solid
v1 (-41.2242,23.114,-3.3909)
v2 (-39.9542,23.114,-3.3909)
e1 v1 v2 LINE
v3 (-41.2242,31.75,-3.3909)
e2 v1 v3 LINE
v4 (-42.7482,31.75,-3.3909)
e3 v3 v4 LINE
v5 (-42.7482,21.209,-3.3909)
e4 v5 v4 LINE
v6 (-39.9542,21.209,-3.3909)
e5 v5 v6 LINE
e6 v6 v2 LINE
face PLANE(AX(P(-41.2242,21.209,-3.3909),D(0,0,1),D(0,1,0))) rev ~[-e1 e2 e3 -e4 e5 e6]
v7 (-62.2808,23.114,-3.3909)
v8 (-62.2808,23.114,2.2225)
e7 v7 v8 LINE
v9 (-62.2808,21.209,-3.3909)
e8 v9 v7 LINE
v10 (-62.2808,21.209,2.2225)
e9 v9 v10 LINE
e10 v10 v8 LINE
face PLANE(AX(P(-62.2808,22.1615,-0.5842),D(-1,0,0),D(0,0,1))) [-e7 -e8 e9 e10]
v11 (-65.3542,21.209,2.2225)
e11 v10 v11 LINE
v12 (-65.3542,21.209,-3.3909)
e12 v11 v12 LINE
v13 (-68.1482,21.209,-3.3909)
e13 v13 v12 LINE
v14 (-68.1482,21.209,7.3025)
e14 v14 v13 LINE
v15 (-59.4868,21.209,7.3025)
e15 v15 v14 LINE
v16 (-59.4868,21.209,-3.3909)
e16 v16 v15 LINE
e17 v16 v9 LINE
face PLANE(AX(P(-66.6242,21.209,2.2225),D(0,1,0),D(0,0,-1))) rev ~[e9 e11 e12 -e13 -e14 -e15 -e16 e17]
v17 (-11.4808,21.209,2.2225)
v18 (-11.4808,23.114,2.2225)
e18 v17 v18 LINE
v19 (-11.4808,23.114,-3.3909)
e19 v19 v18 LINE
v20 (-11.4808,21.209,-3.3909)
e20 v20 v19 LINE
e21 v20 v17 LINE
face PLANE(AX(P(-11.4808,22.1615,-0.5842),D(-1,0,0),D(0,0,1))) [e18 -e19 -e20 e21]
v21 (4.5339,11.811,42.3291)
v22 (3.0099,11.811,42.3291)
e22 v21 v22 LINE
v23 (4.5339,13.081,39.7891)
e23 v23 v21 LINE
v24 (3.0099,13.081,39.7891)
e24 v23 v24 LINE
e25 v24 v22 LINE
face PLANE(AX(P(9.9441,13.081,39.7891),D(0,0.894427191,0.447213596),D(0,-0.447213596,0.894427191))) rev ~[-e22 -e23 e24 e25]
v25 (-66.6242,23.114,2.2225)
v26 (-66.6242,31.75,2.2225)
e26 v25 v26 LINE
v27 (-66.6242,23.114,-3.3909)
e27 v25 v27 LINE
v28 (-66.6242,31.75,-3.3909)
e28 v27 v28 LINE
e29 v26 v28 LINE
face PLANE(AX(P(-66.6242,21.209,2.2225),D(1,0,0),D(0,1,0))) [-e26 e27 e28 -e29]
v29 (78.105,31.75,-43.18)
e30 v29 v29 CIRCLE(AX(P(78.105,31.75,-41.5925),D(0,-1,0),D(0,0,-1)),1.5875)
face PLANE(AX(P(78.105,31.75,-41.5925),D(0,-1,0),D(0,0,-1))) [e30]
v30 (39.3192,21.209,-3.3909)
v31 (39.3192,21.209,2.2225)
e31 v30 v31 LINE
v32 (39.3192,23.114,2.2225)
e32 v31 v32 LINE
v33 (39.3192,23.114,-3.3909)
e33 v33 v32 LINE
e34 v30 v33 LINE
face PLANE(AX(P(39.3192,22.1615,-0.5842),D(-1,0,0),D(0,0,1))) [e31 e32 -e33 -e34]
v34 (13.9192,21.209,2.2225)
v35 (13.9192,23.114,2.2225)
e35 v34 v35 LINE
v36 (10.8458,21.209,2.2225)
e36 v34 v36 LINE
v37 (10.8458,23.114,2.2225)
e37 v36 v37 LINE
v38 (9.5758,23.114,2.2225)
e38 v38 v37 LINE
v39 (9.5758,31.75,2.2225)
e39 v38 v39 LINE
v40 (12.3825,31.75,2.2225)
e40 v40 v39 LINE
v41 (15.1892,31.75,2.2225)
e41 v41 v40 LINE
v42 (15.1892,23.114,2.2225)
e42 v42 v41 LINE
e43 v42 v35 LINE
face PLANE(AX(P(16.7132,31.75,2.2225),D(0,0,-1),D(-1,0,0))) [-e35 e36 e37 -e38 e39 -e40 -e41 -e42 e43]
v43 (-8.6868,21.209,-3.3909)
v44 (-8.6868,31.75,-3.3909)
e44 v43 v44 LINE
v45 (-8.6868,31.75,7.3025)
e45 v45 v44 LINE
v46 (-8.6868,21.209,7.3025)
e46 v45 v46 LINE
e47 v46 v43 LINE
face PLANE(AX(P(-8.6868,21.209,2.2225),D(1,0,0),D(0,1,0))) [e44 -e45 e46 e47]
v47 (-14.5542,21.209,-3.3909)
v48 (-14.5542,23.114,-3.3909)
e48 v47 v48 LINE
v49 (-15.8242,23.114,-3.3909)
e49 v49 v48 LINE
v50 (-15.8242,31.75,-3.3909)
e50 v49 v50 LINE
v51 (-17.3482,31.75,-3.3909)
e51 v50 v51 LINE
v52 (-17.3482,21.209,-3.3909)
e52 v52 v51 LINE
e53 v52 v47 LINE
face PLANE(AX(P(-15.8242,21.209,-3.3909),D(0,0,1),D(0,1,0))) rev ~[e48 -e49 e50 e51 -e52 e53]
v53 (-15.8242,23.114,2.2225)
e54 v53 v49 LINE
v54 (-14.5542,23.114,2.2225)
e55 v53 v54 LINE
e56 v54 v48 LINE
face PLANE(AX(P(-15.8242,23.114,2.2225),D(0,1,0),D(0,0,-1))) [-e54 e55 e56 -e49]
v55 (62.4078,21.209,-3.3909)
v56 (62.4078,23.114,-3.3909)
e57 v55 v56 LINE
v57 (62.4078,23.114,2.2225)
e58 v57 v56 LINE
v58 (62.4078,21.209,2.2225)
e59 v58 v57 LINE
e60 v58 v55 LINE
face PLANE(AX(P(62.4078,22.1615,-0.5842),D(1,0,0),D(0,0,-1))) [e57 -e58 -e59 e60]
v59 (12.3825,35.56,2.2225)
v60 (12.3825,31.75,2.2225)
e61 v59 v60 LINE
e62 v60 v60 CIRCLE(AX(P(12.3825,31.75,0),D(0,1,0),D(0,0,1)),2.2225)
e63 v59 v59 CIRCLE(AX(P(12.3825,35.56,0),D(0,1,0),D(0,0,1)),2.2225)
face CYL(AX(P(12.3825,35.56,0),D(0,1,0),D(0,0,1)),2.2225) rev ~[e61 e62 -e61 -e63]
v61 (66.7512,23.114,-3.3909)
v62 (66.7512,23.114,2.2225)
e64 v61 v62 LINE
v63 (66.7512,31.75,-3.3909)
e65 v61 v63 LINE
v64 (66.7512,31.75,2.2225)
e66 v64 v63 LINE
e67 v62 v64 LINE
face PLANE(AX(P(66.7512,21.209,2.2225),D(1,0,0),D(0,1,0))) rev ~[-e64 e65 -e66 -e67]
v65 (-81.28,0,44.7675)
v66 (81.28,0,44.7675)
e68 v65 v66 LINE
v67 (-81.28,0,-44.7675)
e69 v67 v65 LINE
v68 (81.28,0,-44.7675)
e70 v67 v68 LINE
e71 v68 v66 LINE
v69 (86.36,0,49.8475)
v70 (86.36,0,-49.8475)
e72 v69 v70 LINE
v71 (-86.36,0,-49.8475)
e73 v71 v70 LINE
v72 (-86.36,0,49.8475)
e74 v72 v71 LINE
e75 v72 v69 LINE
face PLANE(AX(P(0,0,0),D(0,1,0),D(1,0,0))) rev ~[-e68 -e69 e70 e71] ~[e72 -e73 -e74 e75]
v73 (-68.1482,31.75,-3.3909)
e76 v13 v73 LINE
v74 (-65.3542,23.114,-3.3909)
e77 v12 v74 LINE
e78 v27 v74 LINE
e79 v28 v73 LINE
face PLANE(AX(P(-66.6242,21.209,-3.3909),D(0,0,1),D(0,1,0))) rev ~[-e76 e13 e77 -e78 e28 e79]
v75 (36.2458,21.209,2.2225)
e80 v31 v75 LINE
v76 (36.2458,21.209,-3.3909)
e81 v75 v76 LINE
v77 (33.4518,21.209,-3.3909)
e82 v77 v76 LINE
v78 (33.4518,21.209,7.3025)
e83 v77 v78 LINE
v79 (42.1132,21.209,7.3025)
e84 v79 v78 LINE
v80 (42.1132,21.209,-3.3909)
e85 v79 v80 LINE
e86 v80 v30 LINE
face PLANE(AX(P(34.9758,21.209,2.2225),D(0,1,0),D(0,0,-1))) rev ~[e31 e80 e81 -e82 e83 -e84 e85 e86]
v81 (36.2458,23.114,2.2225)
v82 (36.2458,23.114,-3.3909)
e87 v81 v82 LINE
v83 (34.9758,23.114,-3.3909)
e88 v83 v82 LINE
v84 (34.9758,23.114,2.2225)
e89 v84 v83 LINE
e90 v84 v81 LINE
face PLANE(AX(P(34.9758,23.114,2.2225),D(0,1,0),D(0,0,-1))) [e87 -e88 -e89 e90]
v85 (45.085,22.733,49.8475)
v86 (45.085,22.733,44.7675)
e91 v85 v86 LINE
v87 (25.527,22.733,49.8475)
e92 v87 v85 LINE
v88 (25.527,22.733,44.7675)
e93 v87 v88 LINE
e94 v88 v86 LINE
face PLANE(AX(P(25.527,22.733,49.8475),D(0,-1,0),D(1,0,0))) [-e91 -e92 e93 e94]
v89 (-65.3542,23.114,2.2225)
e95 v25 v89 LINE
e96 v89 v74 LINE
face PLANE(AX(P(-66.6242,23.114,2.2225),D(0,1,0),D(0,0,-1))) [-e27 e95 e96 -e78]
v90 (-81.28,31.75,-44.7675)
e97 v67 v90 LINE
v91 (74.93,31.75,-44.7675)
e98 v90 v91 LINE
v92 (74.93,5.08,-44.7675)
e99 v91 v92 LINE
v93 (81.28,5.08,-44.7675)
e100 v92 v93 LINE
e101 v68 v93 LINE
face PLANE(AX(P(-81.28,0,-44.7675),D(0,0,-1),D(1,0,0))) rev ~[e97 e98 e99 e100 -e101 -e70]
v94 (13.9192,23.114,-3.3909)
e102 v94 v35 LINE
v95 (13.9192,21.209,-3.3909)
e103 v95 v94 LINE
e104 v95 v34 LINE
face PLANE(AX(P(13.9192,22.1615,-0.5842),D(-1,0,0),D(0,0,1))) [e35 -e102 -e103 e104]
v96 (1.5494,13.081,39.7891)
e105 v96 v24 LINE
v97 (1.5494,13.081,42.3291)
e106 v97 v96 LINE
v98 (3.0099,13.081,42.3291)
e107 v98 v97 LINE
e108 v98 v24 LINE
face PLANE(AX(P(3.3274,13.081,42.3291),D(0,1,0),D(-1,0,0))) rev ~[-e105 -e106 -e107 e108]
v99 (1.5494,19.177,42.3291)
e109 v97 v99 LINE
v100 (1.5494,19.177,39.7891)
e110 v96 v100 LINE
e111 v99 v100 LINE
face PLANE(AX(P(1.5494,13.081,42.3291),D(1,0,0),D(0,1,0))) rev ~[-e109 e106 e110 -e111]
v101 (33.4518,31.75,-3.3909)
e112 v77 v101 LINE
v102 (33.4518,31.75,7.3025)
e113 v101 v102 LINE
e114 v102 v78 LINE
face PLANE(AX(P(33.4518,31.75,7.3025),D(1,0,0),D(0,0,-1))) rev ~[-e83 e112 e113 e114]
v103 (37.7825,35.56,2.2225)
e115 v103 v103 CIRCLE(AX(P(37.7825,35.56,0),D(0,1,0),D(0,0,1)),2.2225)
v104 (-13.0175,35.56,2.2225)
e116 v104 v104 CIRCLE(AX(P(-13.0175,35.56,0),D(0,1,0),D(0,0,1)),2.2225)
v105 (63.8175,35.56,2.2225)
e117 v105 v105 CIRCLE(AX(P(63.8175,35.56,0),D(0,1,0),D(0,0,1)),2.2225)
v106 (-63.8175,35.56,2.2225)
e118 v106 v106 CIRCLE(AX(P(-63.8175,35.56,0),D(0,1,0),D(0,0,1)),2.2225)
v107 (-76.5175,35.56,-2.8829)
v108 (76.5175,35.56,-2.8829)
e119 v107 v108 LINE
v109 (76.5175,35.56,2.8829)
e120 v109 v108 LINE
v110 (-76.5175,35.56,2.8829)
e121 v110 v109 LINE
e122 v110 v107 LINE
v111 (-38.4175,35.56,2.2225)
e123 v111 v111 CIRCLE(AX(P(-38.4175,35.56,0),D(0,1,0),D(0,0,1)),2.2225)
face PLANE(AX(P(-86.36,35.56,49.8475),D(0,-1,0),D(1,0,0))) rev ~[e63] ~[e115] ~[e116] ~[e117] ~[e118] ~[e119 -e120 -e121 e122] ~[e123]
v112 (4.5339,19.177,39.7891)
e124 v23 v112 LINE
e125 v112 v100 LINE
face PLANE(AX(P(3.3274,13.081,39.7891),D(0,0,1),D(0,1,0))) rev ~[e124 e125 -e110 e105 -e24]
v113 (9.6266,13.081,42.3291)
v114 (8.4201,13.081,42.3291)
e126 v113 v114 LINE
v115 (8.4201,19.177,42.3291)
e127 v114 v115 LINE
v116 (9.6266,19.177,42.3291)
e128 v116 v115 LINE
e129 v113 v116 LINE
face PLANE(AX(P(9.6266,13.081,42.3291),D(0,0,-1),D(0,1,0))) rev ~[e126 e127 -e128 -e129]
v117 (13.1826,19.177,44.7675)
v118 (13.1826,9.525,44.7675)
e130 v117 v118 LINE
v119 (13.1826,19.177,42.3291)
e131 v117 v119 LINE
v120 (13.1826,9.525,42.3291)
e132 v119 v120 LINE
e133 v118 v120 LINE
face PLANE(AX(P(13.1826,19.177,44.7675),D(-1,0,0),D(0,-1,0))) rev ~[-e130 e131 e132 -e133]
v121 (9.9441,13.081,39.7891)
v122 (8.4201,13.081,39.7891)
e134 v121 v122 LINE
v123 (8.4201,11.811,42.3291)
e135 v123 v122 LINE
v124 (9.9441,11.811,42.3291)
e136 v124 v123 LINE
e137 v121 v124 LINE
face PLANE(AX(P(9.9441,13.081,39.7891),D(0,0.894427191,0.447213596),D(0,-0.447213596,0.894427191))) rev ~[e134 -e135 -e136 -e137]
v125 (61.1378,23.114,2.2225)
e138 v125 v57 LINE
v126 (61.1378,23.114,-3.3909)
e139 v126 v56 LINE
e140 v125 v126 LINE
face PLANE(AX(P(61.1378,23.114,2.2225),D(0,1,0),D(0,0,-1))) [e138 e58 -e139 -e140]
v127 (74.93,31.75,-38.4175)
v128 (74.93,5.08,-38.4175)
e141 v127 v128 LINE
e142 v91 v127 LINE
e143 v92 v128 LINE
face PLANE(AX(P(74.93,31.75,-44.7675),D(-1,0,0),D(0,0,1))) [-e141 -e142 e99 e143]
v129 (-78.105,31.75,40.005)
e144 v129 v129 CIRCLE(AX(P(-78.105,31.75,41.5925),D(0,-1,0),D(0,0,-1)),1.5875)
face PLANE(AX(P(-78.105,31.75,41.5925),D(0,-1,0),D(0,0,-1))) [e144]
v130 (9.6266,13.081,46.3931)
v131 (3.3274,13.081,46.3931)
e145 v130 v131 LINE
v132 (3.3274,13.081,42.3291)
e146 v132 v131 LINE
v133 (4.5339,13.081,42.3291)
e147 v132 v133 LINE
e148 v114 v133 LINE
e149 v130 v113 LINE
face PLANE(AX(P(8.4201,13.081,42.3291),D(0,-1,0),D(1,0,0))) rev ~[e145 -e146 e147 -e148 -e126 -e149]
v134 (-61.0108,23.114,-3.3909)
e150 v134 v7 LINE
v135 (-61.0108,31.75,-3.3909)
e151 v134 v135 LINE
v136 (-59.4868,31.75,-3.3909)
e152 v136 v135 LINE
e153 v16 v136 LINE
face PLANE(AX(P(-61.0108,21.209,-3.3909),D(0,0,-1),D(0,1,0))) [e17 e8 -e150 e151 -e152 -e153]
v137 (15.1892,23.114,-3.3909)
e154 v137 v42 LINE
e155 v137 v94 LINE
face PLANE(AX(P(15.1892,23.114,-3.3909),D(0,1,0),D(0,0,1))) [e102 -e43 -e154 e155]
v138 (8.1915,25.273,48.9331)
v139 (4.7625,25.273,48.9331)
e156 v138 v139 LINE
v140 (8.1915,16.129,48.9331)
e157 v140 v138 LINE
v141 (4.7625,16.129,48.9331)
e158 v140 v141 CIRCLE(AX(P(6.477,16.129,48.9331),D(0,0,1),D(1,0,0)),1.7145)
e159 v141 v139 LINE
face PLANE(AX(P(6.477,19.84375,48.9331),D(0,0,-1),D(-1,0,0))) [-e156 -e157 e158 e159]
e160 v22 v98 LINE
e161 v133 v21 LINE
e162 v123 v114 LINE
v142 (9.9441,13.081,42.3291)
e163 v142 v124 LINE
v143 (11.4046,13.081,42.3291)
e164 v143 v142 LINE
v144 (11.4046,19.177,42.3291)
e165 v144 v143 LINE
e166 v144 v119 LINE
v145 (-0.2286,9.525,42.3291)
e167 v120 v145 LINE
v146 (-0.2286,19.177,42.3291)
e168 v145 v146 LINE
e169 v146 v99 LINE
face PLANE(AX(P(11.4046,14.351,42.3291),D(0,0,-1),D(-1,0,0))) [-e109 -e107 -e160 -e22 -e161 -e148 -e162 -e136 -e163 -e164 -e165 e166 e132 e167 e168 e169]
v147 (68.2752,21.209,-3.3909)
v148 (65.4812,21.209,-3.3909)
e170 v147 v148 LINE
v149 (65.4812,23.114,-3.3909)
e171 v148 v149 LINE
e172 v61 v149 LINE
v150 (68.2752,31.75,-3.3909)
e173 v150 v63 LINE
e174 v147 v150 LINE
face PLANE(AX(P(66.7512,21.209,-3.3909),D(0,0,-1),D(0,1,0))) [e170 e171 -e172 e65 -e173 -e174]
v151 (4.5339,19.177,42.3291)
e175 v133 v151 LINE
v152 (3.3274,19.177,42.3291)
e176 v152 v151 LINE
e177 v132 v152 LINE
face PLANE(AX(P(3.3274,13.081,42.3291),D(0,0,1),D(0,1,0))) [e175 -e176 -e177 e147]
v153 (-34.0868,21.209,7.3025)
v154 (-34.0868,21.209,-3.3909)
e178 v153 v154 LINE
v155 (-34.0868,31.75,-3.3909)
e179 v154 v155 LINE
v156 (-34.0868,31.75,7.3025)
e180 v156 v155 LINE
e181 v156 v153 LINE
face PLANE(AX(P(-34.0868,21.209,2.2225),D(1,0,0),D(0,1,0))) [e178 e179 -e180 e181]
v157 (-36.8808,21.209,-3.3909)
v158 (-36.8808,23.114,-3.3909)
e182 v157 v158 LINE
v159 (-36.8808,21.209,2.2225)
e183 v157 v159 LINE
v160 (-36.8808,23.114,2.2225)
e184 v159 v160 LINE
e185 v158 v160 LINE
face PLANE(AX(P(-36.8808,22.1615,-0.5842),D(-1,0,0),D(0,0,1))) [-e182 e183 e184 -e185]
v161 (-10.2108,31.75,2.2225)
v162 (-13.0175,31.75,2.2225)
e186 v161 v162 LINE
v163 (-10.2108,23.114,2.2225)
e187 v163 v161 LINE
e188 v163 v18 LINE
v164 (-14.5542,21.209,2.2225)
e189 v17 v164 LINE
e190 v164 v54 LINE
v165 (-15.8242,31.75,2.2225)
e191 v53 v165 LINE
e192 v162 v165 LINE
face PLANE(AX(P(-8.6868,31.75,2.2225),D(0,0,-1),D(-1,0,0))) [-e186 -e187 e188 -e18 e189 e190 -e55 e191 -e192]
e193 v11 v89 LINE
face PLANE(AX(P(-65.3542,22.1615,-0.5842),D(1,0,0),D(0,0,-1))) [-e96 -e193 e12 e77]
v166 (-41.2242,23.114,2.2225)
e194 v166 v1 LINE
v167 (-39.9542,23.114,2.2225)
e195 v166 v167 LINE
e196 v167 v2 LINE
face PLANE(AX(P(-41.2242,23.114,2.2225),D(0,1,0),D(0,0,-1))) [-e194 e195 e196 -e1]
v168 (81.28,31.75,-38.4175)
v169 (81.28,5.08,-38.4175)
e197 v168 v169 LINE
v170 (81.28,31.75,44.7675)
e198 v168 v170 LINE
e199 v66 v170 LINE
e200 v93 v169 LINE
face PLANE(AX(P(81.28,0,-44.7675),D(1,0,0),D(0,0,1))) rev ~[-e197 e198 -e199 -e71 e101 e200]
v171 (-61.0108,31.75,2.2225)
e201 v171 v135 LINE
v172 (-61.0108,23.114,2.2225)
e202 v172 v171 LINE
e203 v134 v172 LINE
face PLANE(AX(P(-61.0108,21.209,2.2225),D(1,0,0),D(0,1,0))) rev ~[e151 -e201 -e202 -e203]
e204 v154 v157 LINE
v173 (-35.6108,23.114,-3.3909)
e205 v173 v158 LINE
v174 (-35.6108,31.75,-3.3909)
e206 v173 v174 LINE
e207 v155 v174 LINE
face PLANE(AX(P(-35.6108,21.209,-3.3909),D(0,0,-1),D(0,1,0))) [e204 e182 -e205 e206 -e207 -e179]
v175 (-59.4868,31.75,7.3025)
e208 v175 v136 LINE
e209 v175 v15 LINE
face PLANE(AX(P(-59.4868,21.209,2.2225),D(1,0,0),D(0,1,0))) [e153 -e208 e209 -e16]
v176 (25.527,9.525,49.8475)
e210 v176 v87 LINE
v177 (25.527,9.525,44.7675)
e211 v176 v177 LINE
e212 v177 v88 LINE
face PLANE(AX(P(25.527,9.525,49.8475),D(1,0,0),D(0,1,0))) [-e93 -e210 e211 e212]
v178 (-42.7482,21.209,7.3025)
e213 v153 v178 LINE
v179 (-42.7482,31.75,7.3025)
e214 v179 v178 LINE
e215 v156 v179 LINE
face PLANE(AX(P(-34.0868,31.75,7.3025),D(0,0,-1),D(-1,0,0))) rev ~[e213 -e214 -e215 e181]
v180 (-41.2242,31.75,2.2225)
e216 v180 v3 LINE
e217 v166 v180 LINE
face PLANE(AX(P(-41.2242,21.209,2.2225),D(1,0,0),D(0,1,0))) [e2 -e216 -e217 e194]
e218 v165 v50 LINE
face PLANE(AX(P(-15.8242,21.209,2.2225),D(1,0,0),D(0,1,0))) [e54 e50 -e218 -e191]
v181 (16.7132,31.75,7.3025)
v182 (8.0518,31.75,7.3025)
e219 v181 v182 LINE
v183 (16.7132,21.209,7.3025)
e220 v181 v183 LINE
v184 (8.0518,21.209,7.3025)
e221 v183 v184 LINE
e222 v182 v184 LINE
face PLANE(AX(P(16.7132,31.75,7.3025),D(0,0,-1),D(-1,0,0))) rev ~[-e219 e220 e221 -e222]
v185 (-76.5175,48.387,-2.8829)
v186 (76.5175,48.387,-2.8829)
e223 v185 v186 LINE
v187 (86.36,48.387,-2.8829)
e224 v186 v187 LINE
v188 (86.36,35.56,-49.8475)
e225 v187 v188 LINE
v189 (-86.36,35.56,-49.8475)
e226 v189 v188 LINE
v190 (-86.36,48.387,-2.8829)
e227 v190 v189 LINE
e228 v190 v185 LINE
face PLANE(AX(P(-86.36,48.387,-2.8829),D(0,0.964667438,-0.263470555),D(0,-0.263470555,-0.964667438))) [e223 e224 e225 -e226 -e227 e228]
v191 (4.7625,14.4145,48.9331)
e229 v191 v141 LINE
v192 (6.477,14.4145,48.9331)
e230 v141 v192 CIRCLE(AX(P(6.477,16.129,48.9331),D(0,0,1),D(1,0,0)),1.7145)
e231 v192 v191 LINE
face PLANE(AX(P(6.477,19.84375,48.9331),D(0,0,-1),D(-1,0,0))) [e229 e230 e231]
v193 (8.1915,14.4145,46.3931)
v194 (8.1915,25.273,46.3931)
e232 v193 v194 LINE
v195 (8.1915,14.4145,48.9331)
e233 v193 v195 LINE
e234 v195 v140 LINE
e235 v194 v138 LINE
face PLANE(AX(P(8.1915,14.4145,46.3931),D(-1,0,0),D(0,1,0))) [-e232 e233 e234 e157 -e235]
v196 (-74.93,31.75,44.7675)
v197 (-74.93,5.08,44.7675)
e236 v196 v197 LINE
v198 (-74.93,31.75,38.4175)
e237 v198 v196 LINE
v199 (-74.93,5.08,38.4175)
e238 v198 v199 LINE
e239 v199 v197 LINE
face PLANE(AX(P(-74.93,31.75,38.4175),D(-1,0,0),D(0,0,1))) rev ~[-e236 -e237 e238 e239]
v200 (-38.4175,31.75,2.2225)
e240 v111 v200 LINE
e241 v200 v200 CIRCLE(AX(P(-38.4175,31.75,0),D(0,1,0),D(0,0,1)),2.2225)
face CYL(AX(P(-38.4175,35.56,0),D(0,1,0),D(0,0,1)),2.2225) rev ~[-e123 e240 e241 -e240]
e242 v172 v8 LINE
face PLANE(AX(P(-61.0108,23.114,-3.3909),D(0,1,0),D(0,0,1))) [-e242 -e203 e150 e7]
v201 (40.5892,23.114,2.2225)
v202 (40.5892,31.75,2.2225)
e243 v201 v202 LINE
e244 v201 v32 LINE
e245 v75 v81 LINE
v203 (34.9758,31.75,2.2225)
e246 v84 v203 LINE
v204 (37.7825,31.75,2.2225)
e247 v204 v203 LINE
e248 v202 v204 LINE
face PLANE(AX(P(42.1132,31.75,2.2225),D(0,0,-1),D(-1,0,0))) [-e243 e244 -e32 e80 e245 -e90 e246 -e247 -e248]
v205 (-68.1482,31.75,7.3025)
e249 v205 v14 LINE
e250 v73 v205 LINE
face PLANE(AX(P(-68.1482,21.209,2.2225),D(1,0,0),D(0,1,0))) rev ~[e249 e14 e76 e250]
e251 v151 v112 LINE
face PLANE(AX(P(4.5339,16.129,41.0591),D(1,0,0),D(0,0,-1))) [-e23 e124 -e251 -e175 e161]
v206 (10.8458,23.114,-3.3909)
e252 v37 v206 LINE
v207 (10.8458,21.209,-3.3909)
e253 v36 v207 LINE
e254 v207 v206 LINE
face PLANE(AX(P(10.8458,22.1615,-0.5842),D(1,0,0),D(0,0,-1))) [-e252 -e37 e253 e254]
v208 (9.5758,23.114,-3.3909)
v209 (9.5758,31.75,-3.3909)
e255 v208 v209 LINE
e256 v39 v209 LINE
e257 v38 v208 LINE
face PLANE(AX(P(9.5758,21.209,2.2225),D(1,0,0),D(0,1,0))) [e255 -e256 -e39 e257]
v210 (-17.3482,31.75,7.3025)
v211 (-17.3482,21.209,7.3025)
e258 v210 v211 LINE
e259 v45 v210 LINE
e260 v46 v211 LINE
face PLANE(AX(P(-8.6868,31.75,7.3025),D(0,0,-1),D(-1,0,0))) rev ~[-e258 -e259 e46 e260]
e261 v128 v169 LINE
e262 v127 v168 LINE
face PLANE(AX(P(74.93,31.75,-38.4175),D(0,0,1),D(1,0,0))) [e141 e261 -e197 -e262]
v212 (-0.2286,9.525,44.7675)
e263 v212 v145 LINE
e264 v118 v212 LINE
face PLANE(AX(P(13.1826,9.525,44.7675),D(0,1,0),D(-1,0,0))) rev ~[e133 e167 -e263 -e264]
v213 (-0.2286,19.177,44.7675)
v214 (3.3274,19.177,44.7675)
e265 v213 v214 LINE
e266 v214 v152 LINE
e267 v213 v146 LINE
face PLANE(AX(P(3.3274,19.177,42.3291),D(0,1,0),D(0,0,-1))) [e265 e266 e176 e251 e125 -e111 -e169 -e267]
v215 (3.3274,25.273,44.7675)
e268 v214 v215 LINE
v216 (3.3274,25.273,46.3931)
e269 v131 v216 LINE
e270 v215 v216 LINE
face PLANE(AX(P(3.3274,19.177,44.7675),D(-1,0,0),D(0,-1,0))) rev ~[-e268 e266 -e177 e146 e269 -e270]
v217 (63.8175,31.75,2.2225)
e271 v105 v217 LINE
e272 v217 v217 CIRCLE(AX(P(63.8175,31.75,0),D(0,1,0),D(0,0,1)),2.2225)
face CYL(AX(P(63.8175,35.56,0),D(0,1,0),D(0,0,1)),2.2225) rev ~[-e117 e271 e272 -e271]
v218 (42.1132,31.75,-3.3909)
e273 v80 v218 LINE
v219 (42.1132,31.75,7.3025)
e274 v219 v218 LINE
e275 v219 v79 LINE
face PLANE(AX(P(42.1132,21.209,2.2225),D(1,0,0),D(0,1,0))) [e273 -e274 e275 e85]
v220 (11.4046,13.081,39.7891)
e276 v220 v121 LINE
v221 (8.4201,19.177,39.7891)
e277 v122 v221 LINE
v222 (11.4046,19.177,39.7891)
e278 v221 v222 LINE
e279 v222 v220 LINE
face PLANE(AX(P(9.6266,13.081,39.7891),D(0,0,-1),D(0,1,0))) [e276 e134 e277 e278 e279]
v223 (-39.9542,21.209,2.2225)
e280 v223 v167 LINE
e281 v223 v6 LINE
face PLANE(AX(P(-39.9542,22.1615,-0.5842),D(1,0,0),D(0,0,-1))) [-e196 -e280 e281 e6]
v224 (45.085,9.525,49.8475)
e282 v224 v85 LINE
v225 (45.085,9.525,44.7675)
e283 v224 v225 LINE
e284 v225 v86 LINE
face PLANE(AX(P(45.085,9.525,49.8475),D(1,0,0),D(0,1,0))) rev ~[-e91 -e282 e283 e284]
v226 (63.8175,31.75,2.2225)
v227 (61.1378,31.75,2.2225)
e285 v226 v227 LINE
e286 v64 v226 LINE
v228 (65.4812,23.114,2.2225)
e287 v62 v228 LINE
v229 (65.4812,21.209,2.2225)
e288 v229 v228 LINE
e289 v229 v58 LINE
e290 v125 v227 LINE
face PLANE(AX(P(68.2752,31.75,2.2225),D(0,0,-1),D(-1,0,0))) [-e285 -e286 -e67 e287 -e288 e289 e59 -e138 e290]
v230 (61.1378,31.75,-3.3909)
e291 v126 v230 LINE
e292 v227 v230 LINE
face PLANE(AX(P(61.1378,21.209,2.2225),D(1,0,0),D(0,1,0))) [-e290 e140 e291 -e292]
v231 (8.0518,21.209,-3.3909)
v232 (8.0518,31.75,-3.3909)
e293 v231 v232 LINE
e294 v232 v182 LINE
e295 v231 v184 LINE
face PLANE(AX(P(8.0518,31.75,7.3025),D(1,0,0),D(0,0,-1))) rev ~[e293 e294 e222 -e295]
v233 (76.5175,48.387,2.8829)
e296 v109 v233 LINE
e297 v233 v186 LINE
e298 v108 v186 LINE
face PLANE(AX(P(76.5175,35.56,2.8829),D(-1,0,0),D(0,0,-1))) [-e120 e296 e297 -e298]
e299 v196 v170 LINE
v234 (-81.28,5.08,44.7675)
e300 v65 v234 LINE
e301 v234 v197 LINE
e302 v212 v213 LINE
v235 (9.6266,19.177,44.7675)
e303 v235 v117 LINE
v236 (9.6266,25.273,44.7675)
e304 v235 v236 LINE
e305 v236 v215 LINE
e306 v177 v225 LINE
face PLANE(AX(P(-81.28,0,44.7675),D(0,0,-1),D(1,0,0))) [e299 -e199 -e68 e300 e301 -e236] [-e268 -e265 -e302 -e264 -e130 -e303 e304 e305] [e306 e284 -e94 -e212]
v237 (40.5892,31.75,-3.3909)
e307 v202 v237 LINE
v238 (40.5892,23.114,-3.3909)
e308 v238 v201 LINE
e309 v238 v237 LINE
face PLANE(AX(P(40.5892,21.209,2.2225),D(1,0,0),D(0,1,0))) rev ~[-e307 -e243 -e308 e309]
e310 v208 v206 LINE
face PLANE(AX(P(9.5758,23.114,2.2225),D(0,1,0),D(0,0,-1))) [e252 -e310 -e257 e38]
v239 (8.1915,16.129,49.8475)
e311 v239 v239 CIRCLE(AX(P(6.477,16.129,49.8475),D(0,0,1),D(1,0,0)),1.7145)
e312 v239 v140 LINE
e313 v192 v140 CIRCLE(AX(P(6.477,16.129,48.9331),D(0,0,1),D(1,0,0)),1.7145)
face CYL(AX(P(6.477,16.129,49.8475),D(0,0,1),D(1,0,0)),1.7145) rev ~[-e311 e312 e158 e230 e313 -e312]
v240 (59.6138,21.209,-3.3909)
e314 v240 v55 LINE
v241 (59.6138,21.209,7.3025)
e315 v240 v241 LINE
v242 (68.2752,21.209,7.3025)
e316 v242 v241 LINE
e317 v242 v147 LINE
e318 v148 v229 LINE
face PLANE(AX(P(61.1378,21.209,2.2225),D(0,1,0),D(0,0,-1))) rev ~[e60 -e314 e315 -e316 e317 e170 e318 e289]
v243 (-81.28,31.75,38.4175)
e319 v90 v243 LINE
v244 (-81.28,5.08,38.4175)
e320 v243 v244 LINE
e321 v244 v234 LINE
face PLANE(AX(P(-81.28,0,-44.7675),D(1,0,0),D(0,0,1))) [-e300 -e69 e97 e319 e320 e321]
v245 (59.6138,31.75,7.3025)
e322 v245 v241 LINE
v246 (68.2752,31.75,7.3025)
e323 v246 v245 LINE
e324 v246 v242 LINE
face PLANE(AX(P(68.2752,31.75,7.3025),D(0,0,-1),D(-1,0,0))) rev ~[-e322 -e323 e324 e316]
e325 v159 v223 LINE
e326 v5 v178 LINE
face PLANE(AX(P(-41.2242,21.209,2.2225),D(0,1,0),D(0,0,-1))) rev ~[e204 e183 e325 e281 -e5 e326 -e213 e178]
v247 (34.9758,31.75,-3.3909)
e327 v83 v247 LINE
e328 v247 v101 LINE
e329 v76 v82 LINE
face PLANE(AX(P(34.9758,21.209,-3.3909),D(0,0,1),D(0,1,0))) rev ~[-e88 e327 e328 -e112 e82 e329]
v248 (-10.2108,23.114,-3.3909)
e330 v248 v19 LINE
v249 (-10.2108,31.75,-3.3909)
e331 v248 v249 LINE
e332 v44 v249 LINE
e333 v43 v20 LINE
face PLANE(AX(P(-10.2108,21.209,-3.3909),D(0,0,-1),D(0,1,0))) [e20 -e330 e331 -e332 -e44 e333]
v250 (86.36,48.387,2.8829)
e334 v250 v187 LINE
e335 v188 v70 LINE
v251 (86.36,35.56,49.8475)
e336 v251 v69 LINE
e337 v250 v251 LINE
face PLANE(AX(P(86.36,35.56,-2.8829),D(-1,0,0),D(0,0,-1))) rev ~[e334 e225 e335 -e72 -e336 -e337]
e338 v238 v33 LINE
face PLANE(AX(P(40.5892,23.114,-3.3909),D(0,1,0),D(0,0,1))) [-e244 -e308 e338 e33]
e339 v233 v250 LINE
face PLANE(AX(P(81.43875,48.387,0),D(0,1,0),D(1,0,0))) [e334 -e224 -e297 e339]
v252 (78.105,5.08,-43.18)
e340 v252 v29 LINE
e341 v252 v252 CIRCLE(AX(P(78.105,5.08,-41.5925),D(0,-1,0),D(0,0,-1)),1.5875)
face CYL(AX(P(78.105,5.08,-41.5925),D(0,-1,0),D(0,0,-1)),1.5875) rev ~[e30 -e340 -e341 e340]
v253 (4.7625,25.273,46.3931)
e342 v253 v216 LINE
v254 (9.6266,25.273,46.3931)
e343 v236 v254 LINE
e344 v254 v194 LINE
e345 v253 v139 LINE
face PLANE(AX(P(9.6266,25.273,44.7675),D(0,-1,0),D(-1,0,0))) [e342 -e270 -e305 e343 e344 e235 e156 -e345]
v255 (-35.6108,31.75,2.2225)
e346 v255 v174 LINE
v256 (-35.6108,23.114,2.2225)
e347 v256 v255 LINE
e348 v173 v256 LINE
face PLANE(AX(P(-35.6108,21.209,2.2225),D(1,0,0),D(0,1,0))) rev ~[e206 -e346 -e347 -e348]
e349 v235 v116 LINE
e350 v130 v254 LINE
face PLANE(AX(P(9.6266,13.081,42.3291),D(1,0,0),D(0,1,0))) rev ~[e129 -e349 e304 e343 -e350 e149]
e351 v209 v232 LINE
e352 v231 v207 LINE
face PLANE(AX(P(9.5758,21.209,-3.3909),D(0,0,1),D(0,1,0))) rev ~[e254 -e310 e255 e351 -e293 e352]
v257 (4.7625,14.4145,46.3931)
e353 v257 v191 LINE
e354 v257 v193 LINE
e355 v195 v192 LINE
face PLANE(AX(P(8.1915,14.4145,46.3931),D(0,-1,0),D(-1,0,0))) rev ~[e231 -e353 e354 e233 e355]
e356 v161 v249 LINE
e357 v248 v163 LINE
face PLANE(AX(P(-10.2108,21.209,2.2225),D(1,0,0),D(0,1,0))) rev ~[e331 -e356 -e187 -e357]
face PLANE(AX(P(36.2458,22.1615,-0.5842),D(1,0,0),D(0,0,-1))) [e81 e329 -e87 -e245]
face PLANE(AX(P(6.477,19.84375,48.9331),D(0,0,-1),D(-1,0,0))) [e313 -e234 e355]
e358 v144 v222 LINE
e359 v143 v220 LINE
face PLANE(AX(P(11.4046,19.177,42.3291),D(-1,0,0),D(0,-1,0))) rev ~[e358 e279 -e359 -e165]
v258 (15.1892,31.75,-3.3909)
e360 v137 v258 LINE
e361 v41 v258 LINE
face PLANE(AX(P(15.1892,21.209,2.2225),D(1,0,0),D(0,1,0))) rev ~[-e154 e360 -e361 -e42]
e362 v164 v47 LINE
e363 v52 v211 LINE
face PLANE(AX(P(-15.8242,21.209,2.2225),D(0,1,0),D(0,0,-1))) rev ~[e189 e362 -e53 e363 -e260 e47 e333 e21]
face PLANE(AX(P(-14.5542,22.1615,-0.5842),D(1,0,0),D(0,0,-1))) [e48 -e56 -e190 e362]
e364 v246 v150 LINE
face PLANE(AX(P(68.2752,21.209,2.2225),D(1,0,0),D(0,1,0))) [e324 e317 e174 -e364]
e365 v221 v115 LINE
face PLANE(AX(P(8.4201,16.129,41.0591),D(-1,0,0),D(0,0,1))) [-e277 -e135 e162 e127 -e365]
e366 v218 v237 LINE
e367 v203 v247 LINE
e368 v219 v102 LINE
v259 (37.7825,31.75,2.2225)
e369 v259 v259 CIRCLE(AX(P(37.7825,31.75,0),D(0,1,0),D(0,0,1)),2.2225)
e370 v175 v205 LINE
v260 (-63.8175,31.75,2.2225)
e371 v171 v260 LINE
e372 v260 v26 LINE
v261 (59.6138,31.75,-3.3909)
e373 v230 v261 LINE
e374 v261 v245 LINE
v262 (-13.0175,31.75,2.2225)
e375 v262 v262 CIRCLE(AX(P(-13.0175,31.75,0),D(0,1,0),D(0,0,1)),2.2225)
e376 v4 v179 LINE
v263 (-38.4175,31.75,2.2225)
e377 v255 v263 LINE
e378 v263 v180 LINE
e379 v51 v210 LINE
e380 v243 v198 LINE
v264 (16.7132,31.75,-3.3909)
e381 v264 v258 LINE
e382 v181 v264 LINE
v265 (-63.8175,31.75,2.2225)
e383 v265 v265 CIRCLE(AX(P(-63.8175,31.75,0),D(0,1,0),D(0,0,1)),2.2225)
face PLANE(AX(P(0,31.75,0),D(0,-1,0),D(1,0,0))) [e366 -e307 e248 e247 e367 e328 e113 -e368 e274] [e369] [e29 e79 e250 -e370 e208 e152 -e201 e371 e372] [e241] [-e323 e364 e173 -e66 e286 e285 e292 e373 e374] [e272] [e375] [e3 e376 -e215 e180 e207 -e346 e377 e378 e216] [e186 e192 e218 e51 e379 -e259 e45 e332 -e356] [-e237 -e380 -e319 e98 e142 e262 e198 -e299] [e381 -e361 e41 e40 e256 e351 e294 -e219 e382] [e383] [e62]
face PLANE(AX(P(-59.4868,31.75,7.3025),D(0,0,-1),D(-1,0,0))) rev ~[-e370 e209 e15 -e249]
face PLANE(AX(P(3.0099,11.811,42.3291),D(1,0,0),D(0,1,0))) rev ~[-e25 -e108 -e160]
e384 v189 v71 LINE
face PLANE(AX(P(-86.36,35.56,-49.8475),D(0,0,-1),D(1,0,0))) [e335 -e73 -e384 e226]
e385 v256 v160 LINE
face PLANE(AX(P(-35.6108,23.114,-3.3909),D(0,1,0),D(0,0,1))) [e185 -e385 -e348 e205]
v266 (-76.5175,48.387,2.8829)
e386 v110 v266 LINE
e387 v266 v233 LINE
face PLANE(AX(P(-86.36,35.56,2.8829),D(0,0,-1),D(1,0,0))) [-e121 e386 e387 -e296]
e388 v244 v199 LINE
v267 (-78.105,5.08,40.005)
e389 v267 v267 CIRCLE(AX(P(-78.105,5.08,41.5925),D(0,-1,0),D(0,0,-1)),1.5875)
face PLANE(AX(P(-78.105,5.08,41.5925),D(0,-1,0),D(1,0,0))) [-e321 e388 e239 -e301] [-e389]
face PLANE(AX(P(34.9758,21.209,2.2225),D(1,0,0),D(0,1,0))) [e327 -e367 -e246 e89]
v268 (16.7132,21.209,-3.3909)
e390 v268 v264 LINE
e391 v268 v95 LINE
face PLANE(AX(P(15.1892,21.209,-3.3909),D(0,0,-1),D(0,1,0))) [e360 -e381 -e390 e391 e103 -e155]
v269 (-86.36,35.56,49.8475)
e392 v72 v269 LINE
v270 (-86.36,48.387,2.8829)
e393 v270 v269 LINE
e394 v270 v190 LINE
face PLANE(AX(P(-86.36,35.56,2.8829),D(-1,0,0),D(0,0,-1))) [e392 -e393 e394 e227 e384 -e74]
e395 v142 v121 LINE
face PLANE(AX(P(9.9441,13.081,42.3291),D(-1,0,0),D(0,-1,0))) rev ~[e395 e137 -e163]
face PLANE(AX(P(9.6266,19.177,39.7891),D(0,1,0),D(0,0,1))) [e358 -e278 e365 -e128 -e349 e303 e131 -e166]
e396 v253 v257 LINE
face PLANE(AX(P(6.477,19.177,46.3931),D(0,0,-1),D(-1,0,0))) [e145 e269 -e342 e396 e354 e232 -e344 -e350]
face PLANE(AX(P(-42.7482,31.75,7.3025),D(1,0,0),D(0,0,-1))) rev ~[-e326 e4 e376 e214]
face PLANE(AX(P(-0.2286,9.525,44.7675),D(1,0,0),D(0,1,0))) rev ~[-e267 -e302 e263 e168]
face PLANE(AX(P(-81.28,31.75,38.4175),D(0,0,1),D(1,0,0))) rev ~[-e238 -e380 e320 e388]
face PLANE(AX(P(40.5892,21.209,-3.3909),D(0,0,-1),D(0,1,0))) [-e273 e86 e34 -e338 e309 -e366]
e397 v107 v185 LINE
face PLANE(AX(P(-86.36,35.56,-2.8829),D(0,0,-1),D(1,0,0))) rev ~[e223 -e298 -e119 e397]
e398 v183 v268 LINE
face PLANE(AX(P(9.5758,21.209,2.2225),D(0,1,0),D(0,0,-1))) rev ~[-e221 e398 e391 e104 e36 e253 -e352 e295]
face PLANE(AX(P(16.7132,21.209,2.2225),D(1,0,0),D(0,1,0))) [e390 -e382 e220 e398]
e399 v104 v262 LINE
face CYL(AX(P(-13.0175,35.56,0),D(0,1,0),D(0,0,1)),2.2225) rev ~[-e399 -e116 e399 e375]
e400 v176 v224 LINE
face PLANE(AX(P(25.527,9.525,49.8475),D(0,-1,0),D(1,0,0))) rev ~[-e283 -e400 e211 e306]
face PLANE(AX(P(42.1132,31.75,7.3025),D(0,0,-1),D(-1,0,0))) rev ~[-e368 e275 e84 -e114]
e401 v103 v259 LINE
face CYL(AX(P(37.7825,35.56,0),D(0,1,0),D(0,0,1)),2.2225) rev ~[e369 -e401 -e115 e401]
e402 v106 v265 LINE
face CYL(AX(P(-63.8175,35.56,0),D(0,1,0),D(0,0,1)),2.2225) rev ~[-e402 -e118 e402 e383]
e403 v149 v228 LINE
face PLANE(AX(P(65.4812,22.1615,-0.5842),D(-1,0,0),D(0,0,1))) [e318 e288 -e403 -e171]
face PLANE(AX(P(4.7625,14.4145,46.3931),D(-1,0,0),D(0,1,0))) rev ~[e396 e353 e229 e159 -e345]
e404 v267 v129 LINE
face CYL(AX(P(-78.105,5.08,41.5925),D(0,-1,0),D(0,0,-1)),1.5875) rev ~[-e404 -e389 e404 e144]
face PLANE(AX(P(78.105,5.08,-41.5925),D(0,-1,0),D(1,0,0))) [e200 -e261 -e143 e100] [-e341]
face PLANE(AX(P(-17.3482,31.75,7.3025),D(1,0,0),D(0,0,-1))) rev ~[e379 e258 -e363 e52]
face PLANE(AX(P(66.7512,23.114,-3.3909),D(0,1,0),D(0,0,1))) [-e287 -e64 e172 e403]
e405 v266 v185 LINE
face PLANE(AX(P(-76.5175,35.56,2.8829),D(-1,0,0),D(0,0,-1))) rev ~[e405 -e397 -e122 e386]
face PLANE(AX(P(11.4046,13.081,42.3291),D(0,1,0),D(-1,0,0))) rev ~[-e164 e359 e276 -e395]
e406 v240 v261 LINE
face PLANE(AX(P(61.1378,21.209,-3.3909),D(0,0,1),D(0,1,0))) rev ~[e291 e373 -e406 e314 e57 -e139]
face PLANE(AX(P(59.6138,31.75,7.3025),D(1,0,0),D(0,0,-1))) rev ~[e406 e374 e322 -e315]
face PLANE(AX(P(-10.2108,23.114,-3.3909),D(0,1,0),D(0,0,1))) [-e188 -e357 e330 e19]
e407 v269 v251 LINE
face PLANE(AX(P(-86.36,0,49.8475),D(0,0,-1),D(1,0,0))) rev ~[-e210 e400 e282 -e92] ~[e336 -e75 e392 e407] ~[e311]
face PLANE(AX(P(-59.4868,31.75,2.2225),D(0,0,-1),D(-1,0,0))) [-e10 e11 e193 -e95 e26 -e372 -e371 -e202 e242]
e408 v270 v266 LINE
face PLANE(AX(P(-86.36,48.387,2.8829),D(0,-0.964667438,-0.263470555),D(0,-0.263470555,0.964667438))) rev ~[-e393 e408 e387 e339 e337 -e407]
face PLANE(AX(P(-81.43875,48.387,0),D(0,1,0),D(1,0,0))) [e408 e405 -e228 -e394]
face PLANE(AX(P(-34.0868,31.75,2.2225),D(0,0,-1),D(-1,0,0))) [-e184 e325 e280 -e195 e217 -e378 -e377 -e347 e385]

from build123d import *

# Parameters (mm, degrees)
SKETCH1_W            = 172.72
SKETCH1_H            = 99.695
BOSS_EXTRUDE1_DEPTH  = 38.1
SKETCH2_W            = 162.56
SKETCH2_H            = 89.535
CUT_EXTRUDE1_DEPTH   = 31.75
SKETCH3_W            = 6.35
SKETCH3_H            = 6.35
BOSS_EXTRUDE2_DEPTH  = 26.67
SKETCH7_R            = 1.5875
CUT_EXTRUDE3_DEPTH   = 26.67
SKETCH8_W            = 19.558
SKETCH8_H            = 13.208
CUT_EXTRUDE4_DEPTH   = 5.08
SKETCH9_R            = 1.7145
CUT_EXTRUDE6_DEPTH   = 3.4544
SKETCH11_W           = 6.2992
SKETCH11_H           = 12.192
CUT_EXTRUDE7_DEPTH   = 1.6256
SKETCH14_W           = 6.2992
SKETCH14_H           = 3.556
BOSS_EXTRUDE3_DEPTH  = 2.4384
SKETCH22_W           = 3.429
SKETCH22_H           = 10.8585
CUT_EXTRUDE8_DEPTH   = 2.54
BOSS_EXTRUDE16_DEPTH = 2.54
BOSS_EXTRUDE18_DEPTH = 2.54
SKETCH28_W           = 2.54
SKETCH28_H           = 6.096
BOSS_EXTRUDE19_DEPTH = 1.2065
SKETCH29_W           = 2.54
SKETCH29_H           = 6.096
BOSS_EXTRUDE20_DEPTH = 1.2065
CUT_EXTRUDE12_DEPTH  = 7.0485
SKETCH33_W           = 172.72
SKETCH33_H           = 2.54
CUT_EXTRUDE13_DEPTH  = 138.29075943
SKETCH36_W           = 172.72
SKETCH36_H           = 46.9646
BOSS_EXTRUDE21_DEPTH = 12.827
CUT_EXTRUDE14_DEPTH  = 187.167326417
SKETCH41_W           = 9.8425
SKETCH41_H           = 5.7658
BOSS_EXTRUDE22_DEPTH = 12.827
SKETCH42_R           = 2.2225
CUT_EXTRUDE15_DEPTH  = 106.864708266
SKETCH44_W           = 8.6614
SKETCH44_H           = 5.08
BOSS_EXTRUDE24_DEPTH = 10.541
SKETCH46_W           = 1.524
SKETCH46_H           = 10.541
BOSS_EXTRUDE25_DEPTH = 5.6134
SKETCH48_W           = 5.6134
SKETCH48_H           = 1.905
BOSS_EXTRUDE26_DEPTH = 1.27
SKETCH49_W           = 5.6134
SKETCH49_H           = 1.905
BOSS_EXTRUDE27_DEPTH = 1.27
SKETCH50_W           = 5.6134
SKETCH50_H           = 1.905
BOSS_EXTRUDE28_DEPTH = 1.27
SKETCH51_W           = 5.6134
SKETCH51_H           = 1.905
BOSS_EXTRUDE29_DEPTH = 1.27
SKETCH52_W           = 5.6134
SKETCH52_H           = 1.905
BOSS_EXTRUDE30_DEPTH = 1.27
SKETCH53_W           = 5.6134
SKETCH53_H           = 1.905
BOSS_EXTRUDE31_DEPTH = 1.27
SKETCH54_W           = 5.6134
SKETCH54_H           = 1.905
BOSS_EXTRUDE32_DEPTH = 1.27
SKETCH55_W           = 5.6134
SKETCH55_H           = 1.905
BOSS_EXTRUDE33_DEPTH = 1.27
SKETCH56_W           = 5.6134
SKETCH56_H           = 1.905
BOSS_EXTRUDE34_DEPTH = 1.27
SKETCH57_W           = 5.6134
SKETCH57_H           = 1.905
BOSS_EXTRUDE35_DEPTH = 1.27
SKETCH58_W           = 5.6134
SKETCH58_H           = 1.905
BOSS_EXTRUDE36_DEPTH = 1.27
SKETCH59_W           = 5.6134
SKETCH59_H           = 1.905
BOSS_EXTRUDE37_DEPTH = 1.27


with BuildPart() as part:
    # Sketch1 → Boss-Extrude1 (new body)
    with BuildSketch(Plane(origin=(0, 0, 0), x_dir=(1, 0, 0), z_dir=(0, 1, 0))):
        Rectangle(SKETCH1_W, SKETCH1_H)
    extrude(amount=BOSS_EXTRUDE1_DEPTH)

    # Sketch2 → Cut-Extrude1 (cut)
    with BuildSketch(Plane.XZ):
        Rectangle(SKETCH2_W, SKETCH2_H)
    extrude(amount=-CUT_EXTRUDE1_DEPTH, mode=Mode.SUBTRACT)

    # Sketch3 → Boss-Extrude2 (add)
    with BuildSketch(Plane.XZ.offset(-31.75)):
        with Locations((-78.105, 41.5925)):
            Rectangle(SKETCH3_W, SKETCH3_H)
        with Locations((78.105, -41.5925)):
            Rectangle(SKETCH3_W, SKETCH3_H)
    extrude(amount=BOSS_EXTRUDE2_DEPTH)

    # Sketch7 → Cut-Extrude3 (cut)
    with BuildSketch(Plane.XZ.offset(-5.08)):
        with Locations(Location((-78.105, 41.5925, 0), (0, 0, 270))):
            Circle(SKETCH7_R)
        with Locations(Location((78.105, -41.5925, 0), (0, 0, 270))):
            Circle(SKETCH7_R)
    extrude(amount=-CUT_EXTRUDE3_DEPTH, mode=Mode.SUBTRACT)

    # Sketch8 → Cut-Extrude4 (cut)
    with BuildSketch(Plane.XY.offset(49.8475)):
        with Locations((35.306, 16.129)):
            Rectangle(SKETCH8_W, SKETCH8_H)
    extrude(amount=-CUT_EXTRUDE4_DEPTH, mode=Mode.SUBTRACT)

    # Sketch9 → Cut-Extrude6 (cut)
    with BuildSketch(Plane.XY.offset(49.8475)):
        with Locations((6.477, 16.129)):
            Circle(SKETCH9_R)
    extrude(amount=-CUT_EXTRUDE6_DEPTH, mode=Mode.SUBTRACT)

    # Sketch11 → Cut-Extrude7 (cut)
    with BuildSketch(Plane(origin=(0, 0, 44.7675), x_dir=(-1, 0, 0), z_dir=(0, 0, -1))):
        with Locations((-6.477, 19.177)):
            Rectangle(SKETCH11_W, SKETCH11_H)
    extrude(amount=-CUT_EXTRUDE7_DEPTH, mode=Mode.SUBTRACT)

    # Sketch14 → Boss-Extrude3 (add)
    with BuildSketch(Plane(origin=(0, 0, 44.7675), x_dir=(-1, 0, 0), z_dir=(0, 0, -1))):
        Polygon((-9.6266, 9.525), (-9.6266, 13.081), (-9.6266, 19.177), (-13.1826, 19.177), (-13.1826, 9.525), align=None)
        with Locations((-6.477, 11.303)):
            Rectangle(SKETCH14_W, SKETCH14_H)
        Polygon((-3.3274, 19.177), (-3.3274, 13.081), (-3.3274, 9.525), (0.2286, 9.525), (0.2286, 19.177), align=None)
    extrude(amount=BOSS_EXTRUDE3_DEPTH)

    # Sketch22 → Cut-Extrude8 (cut)
    with BuildSketch(Plane(origin=(0, 0, 46.3931), x_dir=(-1, 0, 0), z_dir=(0, 0, -1))):
        with Locations((-6.477, 19.84375)):
            Rectangle(SKETCH22_W, SKETCH22_H)
    extrude(amount=-CUT_EXTRUDE8_DEPTH, mode=Mode.SUBTRACT)

    # Sketch25 → Boss-Extrude16 (add)
    with BuildSketch(Plane(origin=(0, 0, 42.3291), x_dir=(-1, 0, 0), z_dir=(0, 0, -1))):
        Polygon((-9.9441, 13.081), (-9.6266, 13.081), (-9.6266, 19.177), (-11.4046, 19.177), (-11.4046, 13.081), align=None)
        Polygon((-3.3274, 19.177), (-3.3274, 13.081), (-3.0734, 13.081), (-3.0099, 13.081), (-1.5494, 13.081), (-1.5494, 19.177), align=None)
    extrude(amount=BOSS_EXTRUDE16_DEPTH)

    # Sketch25<7> → Boss-Extrude18 (add)
    with BuildSketch(Plane(origin=(0, 0, 42.3291), x_dir=(-1, 0, 0), z_dir=(0, 0, -1))):
        Polygon((-8.4201, 11.811), (-8.4201, 13.081), (-9.6266, 13.081), (-9.9441, 13.081), (-9.9441, 11.811), align=None)
        Polygon((-3.3274, 13.081), (-4.5339, 13.081), (-4.5339, 11.811), (-3.0099, 11.811), (-3.0099, 13.081), (-3.0734, 13.081), align=None)
    extrude(amount=BOSS_EXTRUDE18_DEPTH)

    # Sketch28 → Boss-Extrude19 (add)
    with BuildSketch(Plane(origin=(3.3274, 0, 0), x_dir=(0, 0, -1), z_dir=(1, 0, 0))):
        with Locations((-41.0591, 16.129)):
            Rectangle(SKETCH28_W, SKETCH28_H)
    extrude(amount=BOSS_EXTRUDE19_DEPTH)

    # Sketch29 → Boss-Extrude20 (add)
    with BuildSketch(Plane.ZY.offset(-9.6266)):
        with Locations((41.0591, 16.129)):
            Rectangle(SKETCH29_W, SKETCH29_H)
    extrude(amount=BOSS_EXTRUDE20_DEPTH)

    # Sketch30 → Cut-Extrude12 (cut)
    with BuildSketch(Plane(origin=(9.9441, 0, 0), x_dir=(0, 0, -1), z_dir=(1, 0, 0))):
        Polygon((-39.7891, 13.081), (-42.3291, 11.811), (-39.7891, 11.811), align=None)
    extrude(amount=-CUT_EXTRUDE12_DEPTH, mode=Mode.SUBTRACT)

    # Sketch33 → Cut-Extrude13 (cut, through all)
    with BuildSketch(Plane.XY.offset(49.8475)):
        with Locations((0, 36.83)):
            Rectangle(SKETCH33_W, SKETCH33_H)
    extrude(amount=-CUT_EXTRUDE13_DEPTH, mode=Mode.SUBTRACT)

    # Sketch36 → Boss-Extrude21 (add)
    with BuildSketch(Plane(origin=(0, 35.56, 0), x_dir=(1, 0, 0), z_dir=(0, 1, 0))):
        with Locations((0, 26.3652)):
            Rectangle(SKETCH36_W, SKETCH36_H)
        with Locations((0, -26.3652)):
            Rectangle(SKETCH36_W, SKETCH36_H)
    extrude(amount=BOSS_EXTRUDE21_DEPTH)

    # Sketch37 → Cut-Extrude14 (cut, through all)
    with BuildSketch(Plane.ZY.offset(86.36)):
        Polygon((-49.8475, 35.56), (-49.8475, 48.387), (-2.8829, 48.387), align=None)
        Polygon((2.8829, 48.387), (49.8475, 35.56), (49.8475, 48.387), align=None)
    extrude(amount=-CUT_EXTRUDE14_DEPTH, mode=Mode.SUBTRACT)

    # Sketch41 → Boss-Extrude22 (add, through all)
    with BuildSketch(Plane(origin=(0, 35.56, 0), x_dir=(1, 0, 0), z_dir=(0, 1, 0))):
        with Locations((-81.43875, 0)):
            Rectangle(SKETCH41_W, SKETCH41_H)
        with Locations((81.43875, 0)):
            Rectangle(SKETCH41_W, SKETCH41_H)
    extrude(amount=BOSS_EXTRUDE22_DEPTH)

    # Sketch42 → Cut-Extrude15 (cut, through all)
    with BuildSketch(Plane(origin=(0, 35.56, 0), x_dir=(1, 0, 0), z_dir=(0, 1, 0))):
        with Locations(Location((-63.8175, 0, 0), (0, 0, 270))):
            Circle(SKETCH42_R)
        with Locations(Location((63.8175, 0, 0), (0, 0, 270))):
            Circle(SKETCH42_R)
        with Locations(Location((-38.4175, 0, 0), (0, 0, 270))):
            Circle(SKETCH42_R)
        with Locations(Location((-13.0175, 0, 0), (0, 0, 270))):
            Circle(SKETCH42_R)
        with Locations(Location((12.3825, 0, 0), (0, 0, 270))):
            Circle(SKETCH42_R)
        with Locations(Location((37.7825, 0, 0), (0, 0, 270))):
            Circle(SKETCH42_R)
    extrude(amount=-CUT_EXTRUDE15_DEPTH, mode=Mode.SUBTRACT)

    # Sketch44 → Boss-Extrude24 (add)
    with BuildSketch(Plane(origin=(0, 31.75, 0), x_dir=(-1, 0, 0), z_dir=(0, -1, 0))):
        with Locations((38.4175, -4.7625)):
            Rectangle(SKETCH44_W, SKETCH44_H)
        with Locations((63.8175, -4.7625)):
            Rectangle(SKETCH44_W, SKETCH44_H)
        with Locations((13.0175, -4.7625)):
            Rectangle(SKETCH44_W, SKETCH44_H)
        with Locations((-12.3825, -4.7625)):
            Rectangle(SKETCH44_W, SKETCH44_H)
        with Locations((-37.7825, -4.7625)):
            Rectangle(SKETCH44_W, SKETCH44_H)
        with Locations((-63.9445, -4.7625)):
            Rectangle(SKETCH44_W, SKETCH44_H)
    extrude(amount=BOSS_EXTRUDE24_DEPTH)

    # Sketch46 → Boss-Extrude25 (add)
    with BuildSketch(Plane(origin=(0, 0, 2.2225), x_dir=(-1, 0, 0), z_dir=(0, 0, -1))):
        with Locations((67.3862, 26.4795)):
            Rectangle(SKETCH46_W, SKETCH46_H)
        with Locations((41.9862, 26.4795)):
            Rectangle(SKETCH46_W, SKETCH46_H)
        with Locations((60.2488, 26.4795)):
            Rectangle(SKETCH46_W, SKETCH46_H)
        with Locations((34.8488, 26.4795)):
            Rectangle(SKETCH46_W, SKETCH46_H)
        with Locations((16.5862, 26.4795)):
            Rectangle(SKETCH46_W, SKETCH46_H)
        with Locations((9.4488, 26.4795)):
            Rectangle(SKETCH46_W, SKETCH46_H)
        with Locations((-8.8138, 26.4795)):
            Rectangle(SKETCH46_W, SKETCH46_H)
        with Locations((-15.9512, 26.4795)):
            Rectangle(SKETCH46_W, SKETCH46_H)
        with Locations((-34.2138, 26.4795)):
            Rectangle(SKETCH46_W, SKETCH46_H)
        with Locations((-41.3512, 26.4795)):
            Rectangle(SKETCH46_W, SKETCH46_H)
        with Locations((-60.3758, 26.4795)):
            Rectangle(SKETCH46_W, SKETCH46_H)
        with Locations((-67.5132, 26.4795)):
            Rectangle(SKETCH46_W, SKETCH46_H)
    extrude(amount=BOSS_EXTRUDE25_DEPTH)

    # Sketch48 → Boss-Extrude26 (add)
    with BuildSketch(Plane.ZY.offset(-66.7512)):
        with Locations((-0.5842, 22.1615)):
            Rectangle(SKETCH48_W, SKETCH48_H)
    extrude(amount=BOSS_EXTRUDE26_DEPTH)

    # Sketch49 → Boss-Extrude27 (add)
    with BuildSketch(Plane(origin=(61.1378, 0, 0), x_dir=(0, 0, -1), z_dir=(1, 0, 0))):
        with Locations((0.5842, 22.1615)):
            Rectangle(SKETCH49_W, SKETCH49_H)
    extrude(amount=BOSS_EXTRUDE27_DEPTH)

    # Sketch50 → Boss-Extrude28 (add)
    with BuildSketch(Plane.ZY.offset(-40.5892)):
        with Locations((-0.5842, 22.1615)):
            Rectangle(SKETCH50_W, SKETCH50_H)
    extrude(amount=BOSS_EXTRUDE28_DEPTH)

    # Sketch51 → Boss-Extrude29 (add)
    with BuildSketch(Plane(origin=(34.9758, 0, 0), x_dir=(0, 0, -1), z_dir=(1, 0, 0))):
        with Locations((0.5842, 22.1615)):
            Rectangle(SKETCH51_W, SKETCH51_H)
    extrude(amount=BOSS_EXTRUDE29_DEPTH)

    # Sketch52 → Boss-Extrude30 (add)
    with BuildSketch(Plane.ZY.offset(-15.1892)):
        with Locations((-0.5842, 22.1615)):
            Rectangle(SKETCH52_W, SKETCH52_H)
    extrude(amount=BOSS_EXTRUDE30_DEPTH)

    # Sketch53 → Boss-Extrude31 (add)
    with BuildSketch(Plane(origin=(9.5758, 0, 0), x_dir=(0, 0, -1), z_dir=(1, 0, 0))):
        with Locations((0.5842, 22.1615)):
            Rectangle(SKETCH53_W, SKETCH53_H)
    extrude(amount=BOSS_EXTRUDE31_DEPTH)

    # Sketch54 → Boss-Extrude32 (add)
    with BuildSketch(Plane.ZY.offset(10.2108)):
        with Locations((-0.5842, 22.1615)):
            Rectangle(SKETCH54_W, SKETCH54_H)
    extrude(amount=BOSS_EXTRUDE32_DEPTH)

    # Sketch55 → Boss-Extrude33 (add)
    with BuildSketch(Plane(origin=(-15.8242, 0, 0), x_dir=(0, 0, -1), z_dir=(1, 0, 0))):
        with Locations((0.5842, 22.1615)):
            Rectangle(SKETCH55_W, SKETCH55_H)
    extrude(amount=BOSS_EXTRUDE33_DEPTH)

    # Sketch56 → Boss-Extrude34 (add)
    with BuildSketch(Plane.ZY.offset(35.6108)):
        with Locations((-0.5842, 22.1615)):
            Rectangle(SKETCH56_W, SKETCH56_H)
    extrude(amount=BOSS_EXTRUDE34_DEPTH)

    # Sketch57 → Boss-Extrude35 (add)
    with BuildSketch(Plane(origin=(-41.2242, 0, 0), x_dir=(0, 0, -1), z_dir=(1, 0, 0))):
        with Locations((0.5842, 22.1615)):
            Rectangle(SKETCH57_W, SKETCH57_H)
    extrude(amount=BOSS_EXTRUDE35_DEPTH)

    # Sketch58 → Boss-Extrude36 (add)
    with BuildSketch(Plane.ZY.offset(61.0108)):
        with Locations((-0.5842, 22.1615)):
            Rectangle(SKETCH58_W, SKETCH58_H)
    extrude(amount=BOSS_EXTRUDE36_DEPTH)

    # Sketch59 → Boss-Extrude37 (add)
    with BuildSketch(Plane(origin=(-66.6242, 0, 0), x_dir=(0, 0, -1), z_dir=(1, 0, 0))):
        with Locations((0.5842, 22.1615)):
            Rectangle(SKETCH59_W, SKETCH59_H)
    extrude(amount=BOSS_EXTRUDE37_DEPTH)


solid = part.part
